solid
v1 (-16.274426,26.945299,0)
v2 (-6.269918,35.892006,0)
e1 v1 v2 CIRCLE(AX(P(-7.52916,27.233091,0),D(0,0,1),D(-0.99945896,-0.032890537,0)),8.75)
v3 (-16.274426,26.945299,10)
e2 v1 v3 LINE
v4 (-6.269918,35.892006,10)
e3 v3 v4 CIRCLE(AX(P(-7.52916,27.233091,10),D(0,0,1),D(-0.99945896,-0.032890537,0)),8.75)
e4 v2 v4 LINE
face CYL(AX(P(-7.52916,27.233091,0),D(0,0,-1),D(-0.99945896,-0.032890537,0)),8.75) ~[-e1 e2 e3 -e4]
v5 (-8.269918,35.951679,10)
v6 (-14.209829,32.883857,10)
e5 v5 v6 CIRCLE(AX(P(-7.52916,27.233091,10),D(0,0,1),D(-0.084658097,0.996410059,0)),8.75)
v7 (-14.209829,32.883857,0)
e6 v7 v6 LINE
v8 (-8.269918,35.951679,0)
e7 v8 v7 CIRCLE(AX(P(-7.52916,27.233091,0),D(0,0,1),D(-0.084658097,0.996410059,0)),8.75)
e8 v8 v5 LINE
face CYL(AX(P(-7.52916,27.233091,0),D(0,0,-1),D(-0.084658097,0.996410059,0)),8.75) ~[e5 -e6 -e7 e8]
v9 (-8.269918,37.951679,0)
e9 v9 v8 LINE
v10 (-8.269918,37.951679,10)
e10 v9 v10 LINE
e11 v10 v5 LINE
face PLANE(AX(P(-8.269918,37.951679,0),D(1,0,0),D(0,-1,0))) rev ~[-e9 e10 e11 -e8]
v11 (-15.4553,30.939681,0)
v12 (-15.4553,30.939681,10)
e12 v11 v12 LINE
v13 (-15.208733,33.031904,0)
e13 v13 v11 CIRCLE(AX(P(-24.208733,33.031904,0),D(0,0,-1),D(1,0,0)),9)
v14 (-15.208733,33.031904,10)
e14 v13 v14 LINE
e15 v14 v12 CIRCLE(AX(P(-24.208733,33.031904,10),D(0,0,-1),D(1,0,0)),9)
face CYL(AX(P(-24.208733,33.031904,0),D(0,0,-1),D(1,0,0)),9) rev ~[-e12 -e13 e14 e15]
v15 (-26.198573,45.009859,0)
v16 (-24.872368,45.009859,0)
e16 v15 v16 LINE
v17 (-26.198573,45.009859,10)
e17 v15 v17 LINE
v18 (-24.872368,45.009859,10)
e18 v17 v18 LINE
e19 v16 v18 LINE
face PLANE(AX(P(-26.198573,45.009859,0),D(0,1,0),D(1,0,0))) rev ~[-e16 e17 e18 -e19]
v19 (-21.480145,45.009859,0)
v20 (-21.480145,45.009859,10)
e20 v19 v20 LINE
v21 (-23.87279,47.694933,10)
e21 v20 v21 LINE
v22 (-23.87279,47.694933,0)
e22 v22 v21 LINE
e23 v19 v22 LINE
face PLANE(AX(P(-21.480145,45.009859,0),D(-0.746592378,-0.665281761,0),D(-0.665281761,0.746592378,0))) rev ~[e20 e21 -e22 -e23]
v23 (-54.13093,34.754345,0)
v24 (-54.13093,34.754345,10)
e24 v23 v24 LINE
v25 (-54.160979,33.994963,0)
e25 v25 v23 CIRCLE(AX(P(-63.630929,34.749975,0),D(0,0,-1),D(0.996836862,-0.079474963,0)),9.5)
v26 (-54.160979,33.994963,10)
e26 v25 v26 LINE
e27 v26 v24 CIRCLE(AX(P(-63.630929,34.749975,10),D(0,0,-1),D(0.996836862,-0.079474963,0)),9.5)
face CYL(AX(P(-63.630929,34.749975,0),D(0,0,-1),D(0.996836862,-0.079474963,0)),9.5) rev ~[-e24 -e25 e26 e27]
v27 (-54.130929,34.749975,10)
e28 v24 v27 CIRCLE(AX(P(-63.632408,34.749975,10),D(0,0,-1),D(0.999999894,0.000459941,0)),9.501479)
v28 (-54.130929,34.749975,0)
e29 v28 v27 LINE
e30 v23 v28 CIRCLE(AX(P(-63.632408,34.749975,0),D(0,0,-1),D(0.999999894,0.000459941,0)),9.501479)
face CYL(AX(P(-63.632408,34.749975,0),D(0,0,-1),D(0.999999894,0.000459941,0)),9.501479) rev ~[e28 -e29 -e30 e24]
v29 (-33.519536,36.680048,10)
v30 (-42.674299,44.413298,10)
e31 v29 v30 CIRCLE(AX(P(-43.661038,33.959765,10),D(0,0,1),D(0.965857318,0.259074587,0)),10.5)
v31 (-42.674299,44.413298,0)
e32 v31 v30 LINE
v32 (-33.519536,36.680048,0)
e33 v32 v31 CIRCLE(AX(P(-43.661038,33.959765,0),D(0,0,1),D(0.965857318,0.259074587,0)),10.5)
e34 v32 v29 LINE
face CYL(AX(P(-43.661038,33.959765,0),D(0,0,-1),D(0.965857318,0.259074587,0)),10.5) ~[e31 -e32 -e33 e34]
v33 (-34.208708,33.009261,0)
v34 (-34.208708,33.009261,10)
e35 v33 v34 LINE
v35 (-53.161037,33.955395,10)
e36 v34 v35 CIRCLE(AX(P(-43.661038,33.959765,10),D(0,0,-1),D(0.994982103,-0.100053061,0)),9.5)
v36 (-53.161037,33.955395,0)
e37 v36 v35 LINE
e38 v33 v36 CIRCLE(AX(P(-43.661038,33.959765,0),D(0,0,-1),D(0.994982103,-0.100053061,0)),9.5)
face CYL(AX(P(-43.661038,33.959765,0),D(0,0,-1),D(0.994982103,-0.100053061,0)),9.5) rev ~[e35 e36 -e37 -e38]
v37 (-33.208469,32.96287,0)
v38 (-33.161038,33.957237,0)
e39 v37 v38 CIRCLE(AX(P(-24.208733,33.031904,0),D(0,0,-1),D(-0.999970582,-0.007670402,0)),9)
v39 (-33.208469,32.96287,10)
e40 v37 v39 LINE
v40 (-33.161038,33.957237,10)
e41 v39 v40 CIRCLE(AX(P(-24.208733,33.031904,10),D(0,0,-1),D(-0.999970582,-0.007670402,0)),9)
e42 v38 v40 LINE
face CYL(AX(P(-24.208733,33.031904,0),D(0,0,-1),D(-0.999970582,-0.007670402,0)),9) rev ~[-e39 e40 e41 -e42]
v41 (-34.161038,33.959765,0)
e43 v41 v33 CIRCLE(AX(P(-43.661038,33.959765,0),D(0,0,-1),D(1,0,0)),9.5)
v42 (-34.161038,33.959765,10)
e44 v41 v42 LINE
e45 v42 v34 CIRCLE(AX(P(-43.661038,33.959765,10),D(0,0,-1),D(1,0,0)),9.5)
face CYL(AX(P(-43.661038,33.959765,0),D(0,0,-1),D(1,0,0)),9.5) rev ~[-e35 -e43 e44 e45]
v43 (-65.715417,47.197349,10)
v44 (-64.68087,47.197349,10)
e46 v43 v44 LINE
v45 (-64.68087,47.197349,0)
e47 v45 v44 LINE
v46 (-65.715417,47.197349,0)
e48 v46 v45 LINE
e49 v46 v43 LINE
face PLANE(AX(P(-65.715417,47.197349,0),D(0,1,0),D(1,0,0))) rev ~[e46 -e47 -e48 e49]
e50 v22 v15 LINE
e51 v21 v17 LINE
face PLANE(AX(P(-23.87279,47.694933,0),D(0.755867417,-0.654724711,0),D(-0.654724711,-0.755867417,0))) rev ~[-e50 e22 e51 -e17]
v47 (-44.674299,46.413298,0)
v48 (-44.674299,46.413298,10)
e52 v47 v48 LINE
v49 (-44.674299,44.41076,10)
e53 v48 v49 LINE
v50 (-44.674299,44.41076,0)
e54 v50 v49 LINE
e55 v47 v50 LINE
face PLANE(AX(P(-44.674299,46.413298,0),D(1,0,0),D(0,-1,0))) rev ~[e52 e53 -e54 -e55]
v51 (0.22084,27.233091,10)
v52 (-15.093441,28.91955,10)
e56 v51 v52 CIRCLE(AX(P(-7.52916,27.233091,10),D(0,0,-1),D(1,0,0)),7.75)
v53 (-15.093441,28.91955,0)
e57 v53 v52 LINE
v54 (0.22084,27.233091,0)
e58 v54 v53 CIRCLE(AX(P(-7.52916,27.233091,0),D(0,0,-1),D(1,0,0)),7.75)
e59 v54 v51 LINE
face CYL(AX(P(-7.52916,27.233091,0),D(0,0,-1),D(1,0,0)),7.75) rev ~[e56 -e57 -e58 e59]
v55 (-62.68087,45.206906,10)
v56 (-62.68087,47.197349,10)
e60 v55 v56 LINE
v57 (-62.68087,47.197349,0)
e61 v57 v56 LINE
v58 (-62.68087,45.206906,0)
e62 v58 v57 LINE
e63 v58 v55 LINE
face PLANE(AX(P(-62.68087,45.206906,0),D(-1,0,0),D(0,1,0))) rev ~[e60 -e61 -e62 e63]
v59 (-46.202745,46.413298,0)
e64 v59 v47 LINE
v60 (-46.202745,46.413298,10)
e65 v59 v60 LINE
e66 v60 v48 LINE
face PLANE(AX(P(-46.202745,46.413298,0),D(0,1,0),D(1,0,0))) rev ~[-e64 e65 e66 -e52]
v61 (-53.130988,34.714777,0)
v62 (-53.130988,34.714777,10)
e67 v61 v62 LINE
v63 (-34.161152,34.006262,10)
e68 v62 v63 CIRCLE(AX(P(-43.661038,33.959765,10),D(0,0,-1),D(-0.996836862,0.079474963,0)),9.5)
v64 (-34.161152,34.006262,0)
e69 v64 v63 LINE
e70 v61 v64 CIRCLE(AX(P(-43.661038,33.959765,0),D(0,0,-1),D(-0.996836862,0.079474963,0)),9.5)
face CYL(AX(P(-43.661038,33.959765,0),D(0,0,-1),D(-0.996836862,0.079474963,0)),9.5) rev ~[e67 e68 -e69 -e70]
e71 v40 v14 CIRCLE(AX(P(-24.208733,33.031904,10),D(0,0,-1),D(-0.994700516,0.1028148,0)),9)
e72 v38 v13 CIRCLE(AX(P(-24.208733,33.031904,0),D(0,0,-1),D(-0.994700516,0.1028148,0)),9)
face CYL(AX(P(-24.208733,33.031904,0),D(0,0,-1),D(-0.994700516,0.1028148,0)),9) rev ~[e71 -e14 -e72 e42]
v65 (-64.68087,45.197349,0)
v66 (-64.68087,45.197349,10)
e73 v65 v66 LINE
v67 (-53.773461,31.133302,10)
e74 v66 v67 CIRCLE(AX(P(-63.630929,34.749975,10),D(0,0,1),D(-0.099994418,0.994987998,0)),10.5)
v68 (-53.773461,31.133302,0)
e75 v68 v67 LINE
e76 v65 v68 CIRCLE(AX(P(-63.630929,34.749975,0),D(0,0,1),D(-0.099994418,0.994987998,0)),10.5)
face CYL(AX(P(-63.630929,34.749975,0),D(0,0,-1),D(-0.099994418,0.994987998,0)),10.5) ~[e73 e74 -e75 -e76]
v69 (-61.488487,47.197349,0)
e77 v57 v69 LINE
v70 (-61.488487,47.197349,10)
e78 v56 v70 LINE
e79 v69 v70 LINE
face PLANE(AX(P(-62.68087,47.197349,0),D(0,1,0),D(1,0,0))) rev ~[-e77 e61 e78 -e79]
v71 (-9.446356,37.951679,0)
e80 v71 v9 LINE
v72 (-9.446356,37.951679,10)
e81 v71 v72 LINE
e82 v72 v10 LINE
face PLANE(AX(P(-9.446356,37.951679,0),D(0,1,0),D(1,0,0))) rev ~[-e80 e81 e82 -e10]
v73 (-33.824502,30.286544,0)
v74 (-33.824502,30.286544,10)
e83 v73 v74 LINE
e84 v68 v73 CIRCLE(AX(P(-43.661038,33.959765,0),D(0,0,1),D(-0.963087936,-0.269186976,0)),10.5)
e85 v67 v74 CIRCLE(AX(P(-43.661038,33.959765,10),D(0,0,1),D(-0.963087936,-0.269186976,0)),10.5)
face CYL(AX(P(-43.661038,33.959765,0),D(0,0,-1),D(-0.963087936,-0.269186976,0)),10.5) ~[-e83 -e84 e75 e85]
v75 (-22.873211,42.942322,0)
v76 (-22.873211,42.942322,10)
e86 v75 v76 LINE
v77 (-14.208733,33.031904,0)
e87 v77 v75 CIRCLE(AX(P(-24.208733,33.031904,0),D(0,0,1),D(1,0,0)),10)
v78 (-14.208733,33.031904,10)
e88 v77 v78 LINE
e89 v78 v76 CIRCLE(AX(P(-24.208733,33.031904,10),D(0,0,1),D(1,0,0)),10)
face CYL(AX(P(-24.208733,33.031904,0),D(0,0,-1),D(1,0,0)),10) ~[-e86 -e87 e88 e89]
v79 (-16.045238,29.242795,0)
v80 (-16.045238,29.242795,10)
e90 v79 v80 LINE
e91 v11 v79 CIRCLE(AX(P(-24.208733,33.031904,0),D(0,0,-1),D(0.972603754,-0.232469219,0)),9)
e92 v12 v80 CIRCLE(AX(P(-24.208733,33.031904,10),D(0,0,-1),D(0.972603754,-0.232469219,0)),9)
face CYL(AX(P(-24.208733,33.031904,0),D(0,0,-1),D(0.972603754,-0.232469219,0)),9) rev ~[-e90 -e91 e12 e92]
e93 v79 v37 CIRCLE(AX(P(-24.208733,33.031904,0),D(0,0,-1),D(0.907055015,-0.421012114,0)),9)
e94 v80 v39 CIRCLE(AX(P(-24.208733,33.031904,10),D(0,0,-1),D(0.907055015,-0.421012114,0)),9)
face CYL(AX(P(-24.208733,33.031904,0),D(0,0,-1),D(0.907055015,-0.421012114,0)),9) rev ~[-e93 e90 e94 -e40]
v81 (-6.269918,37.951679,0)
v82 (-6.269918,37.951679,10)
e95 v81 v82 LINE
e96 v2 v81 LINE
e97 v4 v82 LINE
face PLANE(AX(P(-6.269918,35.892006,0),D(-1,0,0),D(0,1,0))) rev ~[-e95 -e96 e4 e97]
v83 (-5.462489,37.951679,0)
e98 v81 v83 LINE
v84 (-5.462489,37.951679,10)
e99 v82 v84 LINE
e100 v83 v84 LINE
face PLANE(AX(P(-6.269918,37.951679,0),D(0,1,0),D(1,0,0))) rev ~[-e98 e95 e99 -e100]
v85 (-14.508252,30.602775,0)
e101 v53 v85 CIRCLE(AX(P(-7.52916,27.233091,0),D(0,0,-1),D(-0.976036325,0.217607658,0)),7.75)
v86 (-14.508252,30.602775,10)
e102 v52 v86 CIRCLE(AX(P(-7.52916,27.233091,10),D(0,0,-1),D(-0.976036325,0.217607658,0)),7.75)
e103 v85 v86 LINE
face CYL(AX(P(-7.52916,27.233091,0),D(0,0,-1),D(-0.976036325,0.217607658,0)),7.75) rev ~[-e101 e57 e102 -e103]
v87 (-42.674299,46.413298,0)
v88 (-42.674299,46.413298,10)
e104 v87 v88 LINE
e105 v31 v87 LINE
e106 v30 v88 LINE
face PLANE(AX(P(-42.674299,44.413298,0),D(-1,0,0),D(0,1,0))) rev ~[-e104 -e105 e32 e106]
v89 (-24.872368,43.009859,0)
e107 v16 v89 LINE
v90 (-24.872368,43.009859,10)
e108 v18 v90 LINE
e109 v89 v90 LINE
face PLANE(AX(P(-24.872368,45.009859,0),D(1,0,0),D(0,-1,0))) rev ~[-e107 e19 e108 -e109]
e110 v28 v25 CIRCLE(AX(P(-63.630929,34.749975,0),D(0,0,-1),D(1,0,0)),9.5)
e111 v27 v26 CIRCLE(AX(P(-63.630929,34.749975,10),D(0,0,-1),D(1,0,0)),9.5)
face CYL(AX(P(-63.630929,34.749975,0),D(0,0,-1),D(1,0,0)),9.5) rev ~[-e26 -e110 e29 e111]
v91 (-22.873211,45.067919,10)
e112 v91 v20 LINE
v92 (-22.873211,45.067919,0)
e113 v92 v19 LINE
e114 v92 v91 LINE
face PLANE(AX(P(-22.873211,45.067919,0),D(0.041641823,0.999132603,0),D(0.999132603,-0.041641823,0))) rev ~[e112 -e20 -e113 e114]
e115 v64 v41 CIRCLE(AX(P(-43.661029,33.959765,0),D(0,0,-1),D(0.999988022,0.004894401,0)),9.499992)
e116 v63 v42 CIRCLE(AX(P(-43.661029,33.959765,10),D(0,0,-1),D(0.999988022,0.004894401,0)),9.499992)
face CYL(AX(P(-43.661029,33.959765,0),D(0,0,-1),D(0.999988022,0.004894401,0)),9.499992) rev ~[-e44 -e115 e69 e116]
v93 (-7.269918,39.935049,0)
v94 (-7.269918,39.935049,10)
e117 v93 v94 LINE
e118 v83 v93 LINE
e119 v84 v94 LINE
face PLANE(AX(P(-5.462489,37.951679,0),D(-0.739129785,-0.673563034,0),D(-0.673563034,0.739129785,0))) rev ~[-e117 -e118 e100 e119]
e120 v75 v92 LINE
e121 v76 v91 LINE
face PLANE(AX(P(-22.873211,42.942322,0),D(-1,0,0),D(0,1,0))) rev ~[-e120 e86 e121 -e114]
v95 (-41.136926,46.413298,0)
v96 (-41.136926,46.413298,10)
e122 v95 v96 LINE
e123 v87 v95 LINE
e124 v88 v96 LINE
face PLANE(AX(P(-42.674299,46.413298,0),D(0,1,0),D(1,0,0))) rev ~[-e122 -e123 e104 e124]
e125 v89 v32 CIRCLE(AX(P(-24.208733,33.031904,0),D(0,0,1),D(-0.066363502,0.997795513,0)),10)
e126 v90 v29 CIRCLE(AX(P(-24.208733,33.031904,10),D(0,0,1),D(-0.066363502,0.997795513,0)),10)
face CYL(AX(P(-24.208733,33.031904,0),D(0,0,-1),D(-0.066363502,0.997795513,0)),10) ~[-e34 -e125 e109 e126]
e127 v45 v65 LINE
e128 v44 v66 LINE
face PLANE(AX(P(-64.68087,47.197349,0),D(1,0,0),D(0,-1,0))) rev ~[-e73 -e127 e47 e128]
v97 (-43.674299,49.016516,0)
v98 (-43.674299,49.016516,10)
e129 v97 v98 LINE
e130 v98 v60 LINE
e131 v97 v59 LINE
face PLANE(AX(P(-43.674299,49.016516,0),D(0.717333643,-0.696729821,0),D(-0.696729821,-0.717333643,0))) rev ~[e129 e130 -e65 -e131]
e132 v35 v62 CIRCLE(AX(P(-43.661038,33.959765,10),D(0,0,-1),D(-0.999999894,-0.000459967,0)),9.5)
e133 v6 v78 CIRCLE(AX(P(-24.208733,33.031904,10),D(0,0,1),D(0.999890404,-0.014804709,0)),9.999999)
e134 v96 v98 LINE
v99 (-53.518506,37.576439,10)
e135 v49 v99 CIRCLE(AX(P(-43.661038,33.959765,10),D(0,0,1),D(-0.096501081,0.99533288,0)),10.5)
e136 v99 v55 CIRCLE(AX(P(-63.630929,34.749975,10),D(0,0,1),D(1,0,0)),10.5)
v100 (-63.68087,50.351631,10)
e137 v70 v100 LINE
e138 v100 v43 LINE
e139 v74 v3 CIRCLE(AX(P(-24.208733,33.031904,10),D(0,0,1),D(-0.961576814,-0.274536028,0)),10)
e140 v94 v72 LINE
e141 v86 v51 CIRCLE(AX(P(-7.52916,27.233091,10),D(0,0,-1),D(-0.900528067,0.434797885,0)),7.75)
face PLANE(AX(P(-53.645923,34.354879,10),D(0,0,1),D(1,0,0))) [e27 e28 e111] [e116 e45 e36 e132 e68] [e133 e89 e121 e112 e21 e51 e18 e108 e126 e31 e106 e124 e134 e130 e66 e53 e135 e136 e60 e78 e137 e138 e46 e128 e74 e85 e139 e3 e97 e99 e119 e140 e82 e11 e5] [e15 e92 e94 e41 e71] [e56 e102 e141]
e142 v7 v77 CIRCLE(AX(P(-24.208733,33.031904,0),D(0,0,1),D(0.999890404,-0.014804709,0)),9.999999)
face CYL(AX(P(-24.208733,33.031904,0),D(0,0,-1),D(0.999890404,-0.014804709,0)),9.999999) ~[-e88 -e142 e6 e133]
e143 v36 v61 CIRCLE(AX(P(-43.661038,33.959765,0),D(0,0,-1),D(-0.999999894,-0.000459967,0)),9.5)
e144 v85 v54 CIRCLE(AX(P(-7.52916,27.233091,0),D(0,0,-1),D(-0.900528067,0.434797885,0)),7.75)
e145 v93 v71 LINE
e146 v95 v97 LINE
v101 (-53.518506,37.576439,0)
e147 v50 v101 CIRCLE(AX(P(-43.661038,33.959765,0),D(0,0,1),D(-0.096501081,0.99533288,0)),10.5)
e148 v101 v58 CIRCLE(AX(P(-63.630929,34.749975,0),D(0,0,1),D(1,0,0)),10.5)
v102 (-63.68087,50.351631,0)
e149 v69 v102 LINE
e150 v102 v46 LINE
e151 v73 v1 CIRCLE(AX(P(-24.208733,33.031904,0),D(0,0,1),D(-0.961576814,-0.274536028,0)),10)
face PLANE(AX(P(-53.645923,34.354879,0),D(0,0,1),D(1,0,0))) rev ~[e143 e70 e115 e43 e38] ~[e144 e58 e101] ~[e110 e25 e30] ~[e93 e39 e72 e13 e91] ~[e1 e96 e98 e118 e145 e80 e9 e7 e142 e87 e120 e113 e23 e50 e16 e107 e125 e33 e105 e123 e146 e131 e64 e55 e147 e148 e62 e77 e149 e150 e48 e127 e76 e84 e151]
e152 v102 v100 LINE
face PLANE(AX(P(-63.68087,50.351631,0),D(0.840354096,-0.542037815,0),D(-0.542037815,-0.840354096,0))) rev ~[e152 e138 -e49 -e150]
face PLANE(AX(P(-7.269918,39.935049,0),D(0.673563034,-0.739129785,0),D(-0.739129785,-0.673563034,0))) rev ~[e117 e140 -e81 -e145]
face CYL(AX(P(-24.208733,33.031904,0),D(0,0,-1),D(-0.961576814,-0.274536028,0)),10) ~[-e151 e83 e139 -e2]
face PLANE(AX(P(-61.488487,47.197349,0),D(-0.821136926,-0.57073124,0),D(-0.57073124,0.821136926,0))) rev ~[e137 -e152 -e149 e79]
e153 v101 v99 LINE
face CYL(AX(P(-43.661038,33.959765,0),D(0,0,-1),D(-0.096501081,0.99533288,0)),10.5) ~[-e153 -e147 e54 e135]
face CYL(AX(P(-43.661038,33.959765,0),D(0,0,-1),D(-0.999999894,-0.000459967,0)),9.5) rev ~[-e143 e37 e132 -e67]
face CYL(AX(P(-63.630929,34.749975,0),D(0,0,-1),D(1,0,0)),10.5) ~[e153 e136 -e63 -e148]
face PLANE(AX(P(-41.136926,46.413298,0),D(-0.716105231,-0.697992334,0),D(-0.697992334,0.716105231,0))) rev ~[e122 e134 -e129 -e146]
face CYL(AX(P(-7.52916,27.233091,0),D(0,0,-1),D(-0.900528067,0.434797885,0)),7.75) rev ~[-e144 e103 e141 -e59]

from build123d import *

# Parameters (mm, degrees)
F1_DEPTH = 10


with BuildPart() as f1:
    # F0 (on Top) → F1 (new body)
    with BuildSketch(Plane.XY):
        with BuildLine():
            ThreePointArc((-54.1309299153, 34.7543450507), (-54.1309291616, 34.7521602069), (-54.1309289103, 34.749975363))
            ThreePointArc((-54.1309289103, 34.749975363), (-54.1384443348, 34.3721704089), (-54.1609787174, 33.9949632158))
            ThreePointArc((-54.1609787174, 33.9949632158), (-54.0660685748, 32.5507467457), (-53.7734610387, 31.1333018692))
            ThreePointArc((-53.7734610387, 31.1333018692), (-53.3697669437, 32.5231940325), (-53.1610367081, 33.9553954277))
            ThreePointArc((-53.1610367081, 33.9553954277), (-53.1536089265, 34.335386944), (-53.130987906, 34.7147772626))
            ThreePointArc((-53.130987906, 34.7147772626), (-53.1309436593, 34.7323762881), (-53.1309289103, 34.749975363))
            ThreePointArc((-53.1309289103, 34.749975363), (-53.2282743232, 36.1764316505), (-53.5185055847, 37.5764386092))
            ThreePointArc((-53.5185055847, 37.5764386092), (-53.9221996797, 36.186546446), (-54.1309299153, 34.7543450507))
        make_face()
        with BuildLine():
            ThreePointArc((-54.1609787174, 33.9949632158), (-73.1235001238, 35.1255971916), (-54.1309299153, 34.7543450507))
            ThreePointArc((-54.1309299153, 34.7543450507), (-53.9221996797, 36.186546446), (-53.5185055847, 37.5764386092))
            ThreePointArc((-53.5185055847, 37.5764386092), (-56.911506833, 42.8183932343), (-62.6808702946, 45.2069055352))
            ThreePointArc((-62.6808702946, 45.2069055352), (-63.6810983438, 45.2498555065), (-64.6808702946, 45.1973493436))
            ThreePointArc((-64.6808702946, 45.1973493436), (-71.9280662809, 28.3151085071), (-53.7734610387, 31.1333018692))
            ThreePointArc((-53.7734610387, 31.1333018692), (-54.0660685748, 32.5507467457), (-54.1609787174, 33.9949632158))
        make_face()
        with BuildLine():
            ThreePointArc((-44.6742990635, 44.410760352), (-50.0813318555, 42.2681839255), (-53.5185055847, 37.5764386092))
            ThreePointArc((-53.5185055847, 37.5764386092), (-53.2282743232, 36.1764316505), (-53.1309289103, 34.749975363))
            ThreePointArc((-53.1309289103, 34.749975363), (-53.1309436593, 34.7323762881), (-53.130987906, 34.7147772626))
            ThreePointArc((-53.130987906, 34.7147772626), (-43.3064639701, 43.4531458336), (-34.1611515007, 34.0062619194))
            ThreePointArc((-34.1611515007, 34.0062619194), (-33.9326832198, 35.3653133694), (-33.5195358748, 36.6800482744))
            ThreePointArc((-33.5195358748, 36.6800482744), (-36.8853295304, 41.9809731681), (-42.6742990635, 44.4132978598))
            ThreePointArc((-42.6742990635, 44.4132978598), (-43.674359618, 44.4597566643), (-44.6742990635, 44.410760352))
        make_face()
        with BuildLine():
            ThreePointArc((-53.1610367081, 33.9553954277), (-53.3697669437, 32.5231940325), (-53.7734610387, 31.1333018692))
            ThreePointArc((-53.7734610387, 31.1333018692), (-44.1063222, 23.469211187), (-33.824501511, 30.2865437029))
            ThreePointArc((-33.824501511, 30.2865437029), (-34.1106339928, 31.63463376), (-34.2087077363, 33.0092610331))
            ThreePointArc((-34.2087077363, 33.0092610331), (-44.134704956, 24.4715809191), (-53.1610367081, 33.9553954277))
        make_face()
        with BuildLine():
            ThreePointArc((-64.6808702946, 45.1973493436), (-63.6810983438, 45.2498555065), (-62.6808702946, 45.2069055352))
            Line((-62.6808702946, 45.2069055352), (-62.6808702946, 47.1973493436))
            Line((-62.6808702946, 47.1973493436), (-64.6808702946, 47.1973493436))
            Line((-64.6808702946, 47.1973493436), (-64.6808702946, 45.1973493436))
        make_face()
        with BuildLine():
            Line((-44.6742990635, 46.4132978598), (-44.6742990635, 44.410760352))
            ThreePointArc((-44.6742990635, 44.410760352), (-43.674359618, 44.4597566643), (-42.6742990635, 44.4132978598))
            Line((-42.6742990635, 44.4132978598), (-42.6742990635, 46.4132978598))
            Line((-42.6742990635, 46.4132978598), (-44.6742990635, 46.4132978598))
        make_face()
        with BuildLine():
            ThreePointArc((-34.2087077363, 33.0092610331), (-34.1106339928, 31.63463376), (-33.824501511, 30.2865437029))
            ThreePointArc((-33.824501511, 30.2865437029), (-33.4286074238, 31.6044794904), (-33.2084686098, 32.962870366))
            ThreePointArc((-33.2084686098, 32.962870366), (-33.1985123089, 33.4607100698), (-33.1610380174, 33.9572371849))
            ThreePointArc((-33.1610380174, 33.9572371849), (-33.1610377891, 33.9585011501), (-33.1610377131, 33.9597651154))
            ThreePointArc((-33.1610377131, 33.9597651154), (-33.2510480564, 35.3316672071), (-33.5195358748, 36.6800482744))
            ThreePointArc((-33.5195358748, 36.6800482744), (-33.9326832198, 35.3653133694), (-34.1611515007, 34.0062619194))
            ThreePointArc((-34.1611515007, 34.0062619194), (-34.16106616, 33.983013587), (-34.1610377131, 33.9597651154))
            ThreePointArc((-34.1610377131, 33.9597651154), (-34.1729627034, 33.4839157586), (-34.2087077363, 33.0092610331))
        make_face()
        with BuildLine():
            ThreePointArc((-33.2084686098, 32.962870366), (-33.4286074238, 31.6044794904), (-33.824501511, 30.2865437029))
            ThreePointArc((-33.824501511, 30.2865437029), (-26.0789758688, 23.2083510142), (-16.2744258404, 26.9452986929))
            ThreePointArc((-16.2744258404, 26.9452986929), (-16.2359459807, 28.1016396023), (-16.0452382377, 29.242794962))
            ThreePointArc((-16.0452382377, 29.242794962), (-26.1151867885, 24.2361416337), (-33.2084686098, 32.962870366))
        make_face()
        Polygon((-64.6808702946, 47.1973493436), (-62.6808702946, 47.1973493436), (-61.4884868264, 47.1973493436), (-63.6808702946, 50.3516308963), (-65.7154172659, 47.1973493436), align=None)
        Polygon((-46.2027452886, 46.4132978598), (-44.6742990635, 46.4132978598), (-42.6742990635, 46.4132978598), (-41.1369259803, 46.4132978598), (-43.6742990635, 49.0165157606), align=None)
        with BuildLine():
            ThreePointArc((-16.0452382377, 29.242794962), (-16.2359459807, 28.1016396023), (-16.2744258404, 26.9452986929))
            ThreePointArc((-16.2744258404, 26.9452986929), (-15.6269720373, 27.8983504024), (-15.0934414581, 28.9195502405))
            ThreePointArc((-15.0934414581, 28.9195502405), (-14.849388288, 29.7780382301), (-14.5082524575, 30.6027745052))
            ThreePointArc((-14.5082524575, 30.6027745052), (-14.2932265185, 31.734705525), (-14.2098293285, 32.8838569062))
            ThreePointArc((-14.2098293285, 32.8838569062), (-14.8969732194, 31.9530302459), (-15.4552995863, 30.9396810138))
            ThreePointArc((-15.4552995863, 30.9396810138), (-15.7078230332, 30.0764812725), (-16.0452382377, 29.242794962))
        make_face()
        with BuildLine():
            ThreePointArc((-15.0934414581, 28.9195502405), (-15.6269720373, 27.8983504024), (-16.2744258404, 26.9452986929))
            ThreePointArc((-16.2744258404, 26.9452986929), (-7.3852443737, 18.4842744982), (1.2208400589, 27.2330908929))
            ThreePointArc((1.2208400589, 27.2330908929), (-0.9117259801, 32.9577802096), (-6.269918289, 35.8920059787))
            ThreePointArc((-6.269918289, 35.8920059787), (-7.268206978, 35.9791988017), (-8.269918289, 35.9516789134))
            ThreePointArc((-8.269918289, 35.9516789134), (-11.5444158949, 35.0074217082), (-14.2098293285, 32.8838569062))
            ThreePointArc((-14.2098293285, 32.8838569062), (-14.2932265185, 31.734705525), (-14.5082524575, 30.6027745052))
            ThreePointArc((-14.5082524575, 30.6027745052), (-5.8007888875, 34.7879061456), (0.2208400589, 27.2330908929))
            ThreePointArc((0.2208400589, 27.2330908929), (-8.3774871901, 19.5296604312), (-15.0934414581, 28.9195502405))
        make_face()
        with BuildLine():
            ThreePointArc((-24.8723683958, 43.0098591155), (-30.1154225727, 41.1010441317), (-33.5195358748, 36.6800482744))
            ThreePointArc((-33.5195358748, 36.6800482744), (-33.2510480564, 35.3316672071), (-33.1610377131, 33.9597651154))
            ThreePointArc((-33.1610377131, 33.9597651154), (-33.1610377891, 33.9585011501), (-33.1610380174, 33.9572371849))
            ThreePointArc((-33.1610380174, 33.9572371849), (-23.745452578, 42.0199722388), (-15.2087333715, 33.0319039866))
            ThreePointArc((-15.2087333715, 33.0319039866), (-15.2705874769, 31.9785531588), (-15.4552995863, 30.9396810138))
            ThreePointArc((-15.4552995863, 30.9396810138), (-14.8969732194, 31.9530302459), (-14.2098293285, 32.8838569062))
            ThreePointArc((-14.2098293285, 32.8838569062), (-14.2090073645, 32.9578784182), (-14.2087333715, 33.0319039866))
            ThreePointArc((-14.2087333715, 33.0319039866), (-16.6802799939, 39.6138785947), (-22.8732113197, 42.9423217805))
            ThreePointArc((-22.8732113197, 42.9423217805), (-23.8710969289, 43.0262024429), (-24.8723683958, 43.0098591155))
        make_face()
        with BuildLine():
            Line((-24.8723683958, 45.0098591155), (-24.8723683958, 43.0098591155))
            ThreePointArc((-24.8723683958, 43.0098591155), (-23.8710969289, 43.0262024429), (-22.8732113197, 42.9423217805))
            Line((-22.8732113197, 42.9423217805), (-22.8732113197, 45.0679193003))
            Line((-22.8732113197, 45.0679193003), (-24.8723683958, 45.0098591155))
        make_face()
        with BuildLine():
            ThreePointArc((-8.269918289, 35.9516789134), (-7.268206978, 35.9791988017), (-6.269918289, 35.8920059787))
            Line((-6.269918289, 35.8920059787), (-6.269918289, 37.9516789134))
            Line((-6.269918289, 37.9516789134), (-8.269918289, 37.9516789134))
            Line((-8.269918289, 37.9516789134), (-8.269918289, 35.9516789134))
        make_face()
        Polygon((-26.1985734105, 45.0098591155), (-24.8723683958, 45.0098591155), (-22.8732113197, 45.0679193003), (-21.4801449329, 45.0098591155), (-23.8727898577, 47.6949326694), align=None)
        Polygon((-8.269918289, 37.9516789134), (-6.269918289, 37.9516789134), (-5.4624893661, 37.9516789134), (-7.269918289, 39.9350486696), (-9.4463555142, 37.9516789134), align=None)
    extrude(amount=F1_DEPTH)


solid = f1.part
